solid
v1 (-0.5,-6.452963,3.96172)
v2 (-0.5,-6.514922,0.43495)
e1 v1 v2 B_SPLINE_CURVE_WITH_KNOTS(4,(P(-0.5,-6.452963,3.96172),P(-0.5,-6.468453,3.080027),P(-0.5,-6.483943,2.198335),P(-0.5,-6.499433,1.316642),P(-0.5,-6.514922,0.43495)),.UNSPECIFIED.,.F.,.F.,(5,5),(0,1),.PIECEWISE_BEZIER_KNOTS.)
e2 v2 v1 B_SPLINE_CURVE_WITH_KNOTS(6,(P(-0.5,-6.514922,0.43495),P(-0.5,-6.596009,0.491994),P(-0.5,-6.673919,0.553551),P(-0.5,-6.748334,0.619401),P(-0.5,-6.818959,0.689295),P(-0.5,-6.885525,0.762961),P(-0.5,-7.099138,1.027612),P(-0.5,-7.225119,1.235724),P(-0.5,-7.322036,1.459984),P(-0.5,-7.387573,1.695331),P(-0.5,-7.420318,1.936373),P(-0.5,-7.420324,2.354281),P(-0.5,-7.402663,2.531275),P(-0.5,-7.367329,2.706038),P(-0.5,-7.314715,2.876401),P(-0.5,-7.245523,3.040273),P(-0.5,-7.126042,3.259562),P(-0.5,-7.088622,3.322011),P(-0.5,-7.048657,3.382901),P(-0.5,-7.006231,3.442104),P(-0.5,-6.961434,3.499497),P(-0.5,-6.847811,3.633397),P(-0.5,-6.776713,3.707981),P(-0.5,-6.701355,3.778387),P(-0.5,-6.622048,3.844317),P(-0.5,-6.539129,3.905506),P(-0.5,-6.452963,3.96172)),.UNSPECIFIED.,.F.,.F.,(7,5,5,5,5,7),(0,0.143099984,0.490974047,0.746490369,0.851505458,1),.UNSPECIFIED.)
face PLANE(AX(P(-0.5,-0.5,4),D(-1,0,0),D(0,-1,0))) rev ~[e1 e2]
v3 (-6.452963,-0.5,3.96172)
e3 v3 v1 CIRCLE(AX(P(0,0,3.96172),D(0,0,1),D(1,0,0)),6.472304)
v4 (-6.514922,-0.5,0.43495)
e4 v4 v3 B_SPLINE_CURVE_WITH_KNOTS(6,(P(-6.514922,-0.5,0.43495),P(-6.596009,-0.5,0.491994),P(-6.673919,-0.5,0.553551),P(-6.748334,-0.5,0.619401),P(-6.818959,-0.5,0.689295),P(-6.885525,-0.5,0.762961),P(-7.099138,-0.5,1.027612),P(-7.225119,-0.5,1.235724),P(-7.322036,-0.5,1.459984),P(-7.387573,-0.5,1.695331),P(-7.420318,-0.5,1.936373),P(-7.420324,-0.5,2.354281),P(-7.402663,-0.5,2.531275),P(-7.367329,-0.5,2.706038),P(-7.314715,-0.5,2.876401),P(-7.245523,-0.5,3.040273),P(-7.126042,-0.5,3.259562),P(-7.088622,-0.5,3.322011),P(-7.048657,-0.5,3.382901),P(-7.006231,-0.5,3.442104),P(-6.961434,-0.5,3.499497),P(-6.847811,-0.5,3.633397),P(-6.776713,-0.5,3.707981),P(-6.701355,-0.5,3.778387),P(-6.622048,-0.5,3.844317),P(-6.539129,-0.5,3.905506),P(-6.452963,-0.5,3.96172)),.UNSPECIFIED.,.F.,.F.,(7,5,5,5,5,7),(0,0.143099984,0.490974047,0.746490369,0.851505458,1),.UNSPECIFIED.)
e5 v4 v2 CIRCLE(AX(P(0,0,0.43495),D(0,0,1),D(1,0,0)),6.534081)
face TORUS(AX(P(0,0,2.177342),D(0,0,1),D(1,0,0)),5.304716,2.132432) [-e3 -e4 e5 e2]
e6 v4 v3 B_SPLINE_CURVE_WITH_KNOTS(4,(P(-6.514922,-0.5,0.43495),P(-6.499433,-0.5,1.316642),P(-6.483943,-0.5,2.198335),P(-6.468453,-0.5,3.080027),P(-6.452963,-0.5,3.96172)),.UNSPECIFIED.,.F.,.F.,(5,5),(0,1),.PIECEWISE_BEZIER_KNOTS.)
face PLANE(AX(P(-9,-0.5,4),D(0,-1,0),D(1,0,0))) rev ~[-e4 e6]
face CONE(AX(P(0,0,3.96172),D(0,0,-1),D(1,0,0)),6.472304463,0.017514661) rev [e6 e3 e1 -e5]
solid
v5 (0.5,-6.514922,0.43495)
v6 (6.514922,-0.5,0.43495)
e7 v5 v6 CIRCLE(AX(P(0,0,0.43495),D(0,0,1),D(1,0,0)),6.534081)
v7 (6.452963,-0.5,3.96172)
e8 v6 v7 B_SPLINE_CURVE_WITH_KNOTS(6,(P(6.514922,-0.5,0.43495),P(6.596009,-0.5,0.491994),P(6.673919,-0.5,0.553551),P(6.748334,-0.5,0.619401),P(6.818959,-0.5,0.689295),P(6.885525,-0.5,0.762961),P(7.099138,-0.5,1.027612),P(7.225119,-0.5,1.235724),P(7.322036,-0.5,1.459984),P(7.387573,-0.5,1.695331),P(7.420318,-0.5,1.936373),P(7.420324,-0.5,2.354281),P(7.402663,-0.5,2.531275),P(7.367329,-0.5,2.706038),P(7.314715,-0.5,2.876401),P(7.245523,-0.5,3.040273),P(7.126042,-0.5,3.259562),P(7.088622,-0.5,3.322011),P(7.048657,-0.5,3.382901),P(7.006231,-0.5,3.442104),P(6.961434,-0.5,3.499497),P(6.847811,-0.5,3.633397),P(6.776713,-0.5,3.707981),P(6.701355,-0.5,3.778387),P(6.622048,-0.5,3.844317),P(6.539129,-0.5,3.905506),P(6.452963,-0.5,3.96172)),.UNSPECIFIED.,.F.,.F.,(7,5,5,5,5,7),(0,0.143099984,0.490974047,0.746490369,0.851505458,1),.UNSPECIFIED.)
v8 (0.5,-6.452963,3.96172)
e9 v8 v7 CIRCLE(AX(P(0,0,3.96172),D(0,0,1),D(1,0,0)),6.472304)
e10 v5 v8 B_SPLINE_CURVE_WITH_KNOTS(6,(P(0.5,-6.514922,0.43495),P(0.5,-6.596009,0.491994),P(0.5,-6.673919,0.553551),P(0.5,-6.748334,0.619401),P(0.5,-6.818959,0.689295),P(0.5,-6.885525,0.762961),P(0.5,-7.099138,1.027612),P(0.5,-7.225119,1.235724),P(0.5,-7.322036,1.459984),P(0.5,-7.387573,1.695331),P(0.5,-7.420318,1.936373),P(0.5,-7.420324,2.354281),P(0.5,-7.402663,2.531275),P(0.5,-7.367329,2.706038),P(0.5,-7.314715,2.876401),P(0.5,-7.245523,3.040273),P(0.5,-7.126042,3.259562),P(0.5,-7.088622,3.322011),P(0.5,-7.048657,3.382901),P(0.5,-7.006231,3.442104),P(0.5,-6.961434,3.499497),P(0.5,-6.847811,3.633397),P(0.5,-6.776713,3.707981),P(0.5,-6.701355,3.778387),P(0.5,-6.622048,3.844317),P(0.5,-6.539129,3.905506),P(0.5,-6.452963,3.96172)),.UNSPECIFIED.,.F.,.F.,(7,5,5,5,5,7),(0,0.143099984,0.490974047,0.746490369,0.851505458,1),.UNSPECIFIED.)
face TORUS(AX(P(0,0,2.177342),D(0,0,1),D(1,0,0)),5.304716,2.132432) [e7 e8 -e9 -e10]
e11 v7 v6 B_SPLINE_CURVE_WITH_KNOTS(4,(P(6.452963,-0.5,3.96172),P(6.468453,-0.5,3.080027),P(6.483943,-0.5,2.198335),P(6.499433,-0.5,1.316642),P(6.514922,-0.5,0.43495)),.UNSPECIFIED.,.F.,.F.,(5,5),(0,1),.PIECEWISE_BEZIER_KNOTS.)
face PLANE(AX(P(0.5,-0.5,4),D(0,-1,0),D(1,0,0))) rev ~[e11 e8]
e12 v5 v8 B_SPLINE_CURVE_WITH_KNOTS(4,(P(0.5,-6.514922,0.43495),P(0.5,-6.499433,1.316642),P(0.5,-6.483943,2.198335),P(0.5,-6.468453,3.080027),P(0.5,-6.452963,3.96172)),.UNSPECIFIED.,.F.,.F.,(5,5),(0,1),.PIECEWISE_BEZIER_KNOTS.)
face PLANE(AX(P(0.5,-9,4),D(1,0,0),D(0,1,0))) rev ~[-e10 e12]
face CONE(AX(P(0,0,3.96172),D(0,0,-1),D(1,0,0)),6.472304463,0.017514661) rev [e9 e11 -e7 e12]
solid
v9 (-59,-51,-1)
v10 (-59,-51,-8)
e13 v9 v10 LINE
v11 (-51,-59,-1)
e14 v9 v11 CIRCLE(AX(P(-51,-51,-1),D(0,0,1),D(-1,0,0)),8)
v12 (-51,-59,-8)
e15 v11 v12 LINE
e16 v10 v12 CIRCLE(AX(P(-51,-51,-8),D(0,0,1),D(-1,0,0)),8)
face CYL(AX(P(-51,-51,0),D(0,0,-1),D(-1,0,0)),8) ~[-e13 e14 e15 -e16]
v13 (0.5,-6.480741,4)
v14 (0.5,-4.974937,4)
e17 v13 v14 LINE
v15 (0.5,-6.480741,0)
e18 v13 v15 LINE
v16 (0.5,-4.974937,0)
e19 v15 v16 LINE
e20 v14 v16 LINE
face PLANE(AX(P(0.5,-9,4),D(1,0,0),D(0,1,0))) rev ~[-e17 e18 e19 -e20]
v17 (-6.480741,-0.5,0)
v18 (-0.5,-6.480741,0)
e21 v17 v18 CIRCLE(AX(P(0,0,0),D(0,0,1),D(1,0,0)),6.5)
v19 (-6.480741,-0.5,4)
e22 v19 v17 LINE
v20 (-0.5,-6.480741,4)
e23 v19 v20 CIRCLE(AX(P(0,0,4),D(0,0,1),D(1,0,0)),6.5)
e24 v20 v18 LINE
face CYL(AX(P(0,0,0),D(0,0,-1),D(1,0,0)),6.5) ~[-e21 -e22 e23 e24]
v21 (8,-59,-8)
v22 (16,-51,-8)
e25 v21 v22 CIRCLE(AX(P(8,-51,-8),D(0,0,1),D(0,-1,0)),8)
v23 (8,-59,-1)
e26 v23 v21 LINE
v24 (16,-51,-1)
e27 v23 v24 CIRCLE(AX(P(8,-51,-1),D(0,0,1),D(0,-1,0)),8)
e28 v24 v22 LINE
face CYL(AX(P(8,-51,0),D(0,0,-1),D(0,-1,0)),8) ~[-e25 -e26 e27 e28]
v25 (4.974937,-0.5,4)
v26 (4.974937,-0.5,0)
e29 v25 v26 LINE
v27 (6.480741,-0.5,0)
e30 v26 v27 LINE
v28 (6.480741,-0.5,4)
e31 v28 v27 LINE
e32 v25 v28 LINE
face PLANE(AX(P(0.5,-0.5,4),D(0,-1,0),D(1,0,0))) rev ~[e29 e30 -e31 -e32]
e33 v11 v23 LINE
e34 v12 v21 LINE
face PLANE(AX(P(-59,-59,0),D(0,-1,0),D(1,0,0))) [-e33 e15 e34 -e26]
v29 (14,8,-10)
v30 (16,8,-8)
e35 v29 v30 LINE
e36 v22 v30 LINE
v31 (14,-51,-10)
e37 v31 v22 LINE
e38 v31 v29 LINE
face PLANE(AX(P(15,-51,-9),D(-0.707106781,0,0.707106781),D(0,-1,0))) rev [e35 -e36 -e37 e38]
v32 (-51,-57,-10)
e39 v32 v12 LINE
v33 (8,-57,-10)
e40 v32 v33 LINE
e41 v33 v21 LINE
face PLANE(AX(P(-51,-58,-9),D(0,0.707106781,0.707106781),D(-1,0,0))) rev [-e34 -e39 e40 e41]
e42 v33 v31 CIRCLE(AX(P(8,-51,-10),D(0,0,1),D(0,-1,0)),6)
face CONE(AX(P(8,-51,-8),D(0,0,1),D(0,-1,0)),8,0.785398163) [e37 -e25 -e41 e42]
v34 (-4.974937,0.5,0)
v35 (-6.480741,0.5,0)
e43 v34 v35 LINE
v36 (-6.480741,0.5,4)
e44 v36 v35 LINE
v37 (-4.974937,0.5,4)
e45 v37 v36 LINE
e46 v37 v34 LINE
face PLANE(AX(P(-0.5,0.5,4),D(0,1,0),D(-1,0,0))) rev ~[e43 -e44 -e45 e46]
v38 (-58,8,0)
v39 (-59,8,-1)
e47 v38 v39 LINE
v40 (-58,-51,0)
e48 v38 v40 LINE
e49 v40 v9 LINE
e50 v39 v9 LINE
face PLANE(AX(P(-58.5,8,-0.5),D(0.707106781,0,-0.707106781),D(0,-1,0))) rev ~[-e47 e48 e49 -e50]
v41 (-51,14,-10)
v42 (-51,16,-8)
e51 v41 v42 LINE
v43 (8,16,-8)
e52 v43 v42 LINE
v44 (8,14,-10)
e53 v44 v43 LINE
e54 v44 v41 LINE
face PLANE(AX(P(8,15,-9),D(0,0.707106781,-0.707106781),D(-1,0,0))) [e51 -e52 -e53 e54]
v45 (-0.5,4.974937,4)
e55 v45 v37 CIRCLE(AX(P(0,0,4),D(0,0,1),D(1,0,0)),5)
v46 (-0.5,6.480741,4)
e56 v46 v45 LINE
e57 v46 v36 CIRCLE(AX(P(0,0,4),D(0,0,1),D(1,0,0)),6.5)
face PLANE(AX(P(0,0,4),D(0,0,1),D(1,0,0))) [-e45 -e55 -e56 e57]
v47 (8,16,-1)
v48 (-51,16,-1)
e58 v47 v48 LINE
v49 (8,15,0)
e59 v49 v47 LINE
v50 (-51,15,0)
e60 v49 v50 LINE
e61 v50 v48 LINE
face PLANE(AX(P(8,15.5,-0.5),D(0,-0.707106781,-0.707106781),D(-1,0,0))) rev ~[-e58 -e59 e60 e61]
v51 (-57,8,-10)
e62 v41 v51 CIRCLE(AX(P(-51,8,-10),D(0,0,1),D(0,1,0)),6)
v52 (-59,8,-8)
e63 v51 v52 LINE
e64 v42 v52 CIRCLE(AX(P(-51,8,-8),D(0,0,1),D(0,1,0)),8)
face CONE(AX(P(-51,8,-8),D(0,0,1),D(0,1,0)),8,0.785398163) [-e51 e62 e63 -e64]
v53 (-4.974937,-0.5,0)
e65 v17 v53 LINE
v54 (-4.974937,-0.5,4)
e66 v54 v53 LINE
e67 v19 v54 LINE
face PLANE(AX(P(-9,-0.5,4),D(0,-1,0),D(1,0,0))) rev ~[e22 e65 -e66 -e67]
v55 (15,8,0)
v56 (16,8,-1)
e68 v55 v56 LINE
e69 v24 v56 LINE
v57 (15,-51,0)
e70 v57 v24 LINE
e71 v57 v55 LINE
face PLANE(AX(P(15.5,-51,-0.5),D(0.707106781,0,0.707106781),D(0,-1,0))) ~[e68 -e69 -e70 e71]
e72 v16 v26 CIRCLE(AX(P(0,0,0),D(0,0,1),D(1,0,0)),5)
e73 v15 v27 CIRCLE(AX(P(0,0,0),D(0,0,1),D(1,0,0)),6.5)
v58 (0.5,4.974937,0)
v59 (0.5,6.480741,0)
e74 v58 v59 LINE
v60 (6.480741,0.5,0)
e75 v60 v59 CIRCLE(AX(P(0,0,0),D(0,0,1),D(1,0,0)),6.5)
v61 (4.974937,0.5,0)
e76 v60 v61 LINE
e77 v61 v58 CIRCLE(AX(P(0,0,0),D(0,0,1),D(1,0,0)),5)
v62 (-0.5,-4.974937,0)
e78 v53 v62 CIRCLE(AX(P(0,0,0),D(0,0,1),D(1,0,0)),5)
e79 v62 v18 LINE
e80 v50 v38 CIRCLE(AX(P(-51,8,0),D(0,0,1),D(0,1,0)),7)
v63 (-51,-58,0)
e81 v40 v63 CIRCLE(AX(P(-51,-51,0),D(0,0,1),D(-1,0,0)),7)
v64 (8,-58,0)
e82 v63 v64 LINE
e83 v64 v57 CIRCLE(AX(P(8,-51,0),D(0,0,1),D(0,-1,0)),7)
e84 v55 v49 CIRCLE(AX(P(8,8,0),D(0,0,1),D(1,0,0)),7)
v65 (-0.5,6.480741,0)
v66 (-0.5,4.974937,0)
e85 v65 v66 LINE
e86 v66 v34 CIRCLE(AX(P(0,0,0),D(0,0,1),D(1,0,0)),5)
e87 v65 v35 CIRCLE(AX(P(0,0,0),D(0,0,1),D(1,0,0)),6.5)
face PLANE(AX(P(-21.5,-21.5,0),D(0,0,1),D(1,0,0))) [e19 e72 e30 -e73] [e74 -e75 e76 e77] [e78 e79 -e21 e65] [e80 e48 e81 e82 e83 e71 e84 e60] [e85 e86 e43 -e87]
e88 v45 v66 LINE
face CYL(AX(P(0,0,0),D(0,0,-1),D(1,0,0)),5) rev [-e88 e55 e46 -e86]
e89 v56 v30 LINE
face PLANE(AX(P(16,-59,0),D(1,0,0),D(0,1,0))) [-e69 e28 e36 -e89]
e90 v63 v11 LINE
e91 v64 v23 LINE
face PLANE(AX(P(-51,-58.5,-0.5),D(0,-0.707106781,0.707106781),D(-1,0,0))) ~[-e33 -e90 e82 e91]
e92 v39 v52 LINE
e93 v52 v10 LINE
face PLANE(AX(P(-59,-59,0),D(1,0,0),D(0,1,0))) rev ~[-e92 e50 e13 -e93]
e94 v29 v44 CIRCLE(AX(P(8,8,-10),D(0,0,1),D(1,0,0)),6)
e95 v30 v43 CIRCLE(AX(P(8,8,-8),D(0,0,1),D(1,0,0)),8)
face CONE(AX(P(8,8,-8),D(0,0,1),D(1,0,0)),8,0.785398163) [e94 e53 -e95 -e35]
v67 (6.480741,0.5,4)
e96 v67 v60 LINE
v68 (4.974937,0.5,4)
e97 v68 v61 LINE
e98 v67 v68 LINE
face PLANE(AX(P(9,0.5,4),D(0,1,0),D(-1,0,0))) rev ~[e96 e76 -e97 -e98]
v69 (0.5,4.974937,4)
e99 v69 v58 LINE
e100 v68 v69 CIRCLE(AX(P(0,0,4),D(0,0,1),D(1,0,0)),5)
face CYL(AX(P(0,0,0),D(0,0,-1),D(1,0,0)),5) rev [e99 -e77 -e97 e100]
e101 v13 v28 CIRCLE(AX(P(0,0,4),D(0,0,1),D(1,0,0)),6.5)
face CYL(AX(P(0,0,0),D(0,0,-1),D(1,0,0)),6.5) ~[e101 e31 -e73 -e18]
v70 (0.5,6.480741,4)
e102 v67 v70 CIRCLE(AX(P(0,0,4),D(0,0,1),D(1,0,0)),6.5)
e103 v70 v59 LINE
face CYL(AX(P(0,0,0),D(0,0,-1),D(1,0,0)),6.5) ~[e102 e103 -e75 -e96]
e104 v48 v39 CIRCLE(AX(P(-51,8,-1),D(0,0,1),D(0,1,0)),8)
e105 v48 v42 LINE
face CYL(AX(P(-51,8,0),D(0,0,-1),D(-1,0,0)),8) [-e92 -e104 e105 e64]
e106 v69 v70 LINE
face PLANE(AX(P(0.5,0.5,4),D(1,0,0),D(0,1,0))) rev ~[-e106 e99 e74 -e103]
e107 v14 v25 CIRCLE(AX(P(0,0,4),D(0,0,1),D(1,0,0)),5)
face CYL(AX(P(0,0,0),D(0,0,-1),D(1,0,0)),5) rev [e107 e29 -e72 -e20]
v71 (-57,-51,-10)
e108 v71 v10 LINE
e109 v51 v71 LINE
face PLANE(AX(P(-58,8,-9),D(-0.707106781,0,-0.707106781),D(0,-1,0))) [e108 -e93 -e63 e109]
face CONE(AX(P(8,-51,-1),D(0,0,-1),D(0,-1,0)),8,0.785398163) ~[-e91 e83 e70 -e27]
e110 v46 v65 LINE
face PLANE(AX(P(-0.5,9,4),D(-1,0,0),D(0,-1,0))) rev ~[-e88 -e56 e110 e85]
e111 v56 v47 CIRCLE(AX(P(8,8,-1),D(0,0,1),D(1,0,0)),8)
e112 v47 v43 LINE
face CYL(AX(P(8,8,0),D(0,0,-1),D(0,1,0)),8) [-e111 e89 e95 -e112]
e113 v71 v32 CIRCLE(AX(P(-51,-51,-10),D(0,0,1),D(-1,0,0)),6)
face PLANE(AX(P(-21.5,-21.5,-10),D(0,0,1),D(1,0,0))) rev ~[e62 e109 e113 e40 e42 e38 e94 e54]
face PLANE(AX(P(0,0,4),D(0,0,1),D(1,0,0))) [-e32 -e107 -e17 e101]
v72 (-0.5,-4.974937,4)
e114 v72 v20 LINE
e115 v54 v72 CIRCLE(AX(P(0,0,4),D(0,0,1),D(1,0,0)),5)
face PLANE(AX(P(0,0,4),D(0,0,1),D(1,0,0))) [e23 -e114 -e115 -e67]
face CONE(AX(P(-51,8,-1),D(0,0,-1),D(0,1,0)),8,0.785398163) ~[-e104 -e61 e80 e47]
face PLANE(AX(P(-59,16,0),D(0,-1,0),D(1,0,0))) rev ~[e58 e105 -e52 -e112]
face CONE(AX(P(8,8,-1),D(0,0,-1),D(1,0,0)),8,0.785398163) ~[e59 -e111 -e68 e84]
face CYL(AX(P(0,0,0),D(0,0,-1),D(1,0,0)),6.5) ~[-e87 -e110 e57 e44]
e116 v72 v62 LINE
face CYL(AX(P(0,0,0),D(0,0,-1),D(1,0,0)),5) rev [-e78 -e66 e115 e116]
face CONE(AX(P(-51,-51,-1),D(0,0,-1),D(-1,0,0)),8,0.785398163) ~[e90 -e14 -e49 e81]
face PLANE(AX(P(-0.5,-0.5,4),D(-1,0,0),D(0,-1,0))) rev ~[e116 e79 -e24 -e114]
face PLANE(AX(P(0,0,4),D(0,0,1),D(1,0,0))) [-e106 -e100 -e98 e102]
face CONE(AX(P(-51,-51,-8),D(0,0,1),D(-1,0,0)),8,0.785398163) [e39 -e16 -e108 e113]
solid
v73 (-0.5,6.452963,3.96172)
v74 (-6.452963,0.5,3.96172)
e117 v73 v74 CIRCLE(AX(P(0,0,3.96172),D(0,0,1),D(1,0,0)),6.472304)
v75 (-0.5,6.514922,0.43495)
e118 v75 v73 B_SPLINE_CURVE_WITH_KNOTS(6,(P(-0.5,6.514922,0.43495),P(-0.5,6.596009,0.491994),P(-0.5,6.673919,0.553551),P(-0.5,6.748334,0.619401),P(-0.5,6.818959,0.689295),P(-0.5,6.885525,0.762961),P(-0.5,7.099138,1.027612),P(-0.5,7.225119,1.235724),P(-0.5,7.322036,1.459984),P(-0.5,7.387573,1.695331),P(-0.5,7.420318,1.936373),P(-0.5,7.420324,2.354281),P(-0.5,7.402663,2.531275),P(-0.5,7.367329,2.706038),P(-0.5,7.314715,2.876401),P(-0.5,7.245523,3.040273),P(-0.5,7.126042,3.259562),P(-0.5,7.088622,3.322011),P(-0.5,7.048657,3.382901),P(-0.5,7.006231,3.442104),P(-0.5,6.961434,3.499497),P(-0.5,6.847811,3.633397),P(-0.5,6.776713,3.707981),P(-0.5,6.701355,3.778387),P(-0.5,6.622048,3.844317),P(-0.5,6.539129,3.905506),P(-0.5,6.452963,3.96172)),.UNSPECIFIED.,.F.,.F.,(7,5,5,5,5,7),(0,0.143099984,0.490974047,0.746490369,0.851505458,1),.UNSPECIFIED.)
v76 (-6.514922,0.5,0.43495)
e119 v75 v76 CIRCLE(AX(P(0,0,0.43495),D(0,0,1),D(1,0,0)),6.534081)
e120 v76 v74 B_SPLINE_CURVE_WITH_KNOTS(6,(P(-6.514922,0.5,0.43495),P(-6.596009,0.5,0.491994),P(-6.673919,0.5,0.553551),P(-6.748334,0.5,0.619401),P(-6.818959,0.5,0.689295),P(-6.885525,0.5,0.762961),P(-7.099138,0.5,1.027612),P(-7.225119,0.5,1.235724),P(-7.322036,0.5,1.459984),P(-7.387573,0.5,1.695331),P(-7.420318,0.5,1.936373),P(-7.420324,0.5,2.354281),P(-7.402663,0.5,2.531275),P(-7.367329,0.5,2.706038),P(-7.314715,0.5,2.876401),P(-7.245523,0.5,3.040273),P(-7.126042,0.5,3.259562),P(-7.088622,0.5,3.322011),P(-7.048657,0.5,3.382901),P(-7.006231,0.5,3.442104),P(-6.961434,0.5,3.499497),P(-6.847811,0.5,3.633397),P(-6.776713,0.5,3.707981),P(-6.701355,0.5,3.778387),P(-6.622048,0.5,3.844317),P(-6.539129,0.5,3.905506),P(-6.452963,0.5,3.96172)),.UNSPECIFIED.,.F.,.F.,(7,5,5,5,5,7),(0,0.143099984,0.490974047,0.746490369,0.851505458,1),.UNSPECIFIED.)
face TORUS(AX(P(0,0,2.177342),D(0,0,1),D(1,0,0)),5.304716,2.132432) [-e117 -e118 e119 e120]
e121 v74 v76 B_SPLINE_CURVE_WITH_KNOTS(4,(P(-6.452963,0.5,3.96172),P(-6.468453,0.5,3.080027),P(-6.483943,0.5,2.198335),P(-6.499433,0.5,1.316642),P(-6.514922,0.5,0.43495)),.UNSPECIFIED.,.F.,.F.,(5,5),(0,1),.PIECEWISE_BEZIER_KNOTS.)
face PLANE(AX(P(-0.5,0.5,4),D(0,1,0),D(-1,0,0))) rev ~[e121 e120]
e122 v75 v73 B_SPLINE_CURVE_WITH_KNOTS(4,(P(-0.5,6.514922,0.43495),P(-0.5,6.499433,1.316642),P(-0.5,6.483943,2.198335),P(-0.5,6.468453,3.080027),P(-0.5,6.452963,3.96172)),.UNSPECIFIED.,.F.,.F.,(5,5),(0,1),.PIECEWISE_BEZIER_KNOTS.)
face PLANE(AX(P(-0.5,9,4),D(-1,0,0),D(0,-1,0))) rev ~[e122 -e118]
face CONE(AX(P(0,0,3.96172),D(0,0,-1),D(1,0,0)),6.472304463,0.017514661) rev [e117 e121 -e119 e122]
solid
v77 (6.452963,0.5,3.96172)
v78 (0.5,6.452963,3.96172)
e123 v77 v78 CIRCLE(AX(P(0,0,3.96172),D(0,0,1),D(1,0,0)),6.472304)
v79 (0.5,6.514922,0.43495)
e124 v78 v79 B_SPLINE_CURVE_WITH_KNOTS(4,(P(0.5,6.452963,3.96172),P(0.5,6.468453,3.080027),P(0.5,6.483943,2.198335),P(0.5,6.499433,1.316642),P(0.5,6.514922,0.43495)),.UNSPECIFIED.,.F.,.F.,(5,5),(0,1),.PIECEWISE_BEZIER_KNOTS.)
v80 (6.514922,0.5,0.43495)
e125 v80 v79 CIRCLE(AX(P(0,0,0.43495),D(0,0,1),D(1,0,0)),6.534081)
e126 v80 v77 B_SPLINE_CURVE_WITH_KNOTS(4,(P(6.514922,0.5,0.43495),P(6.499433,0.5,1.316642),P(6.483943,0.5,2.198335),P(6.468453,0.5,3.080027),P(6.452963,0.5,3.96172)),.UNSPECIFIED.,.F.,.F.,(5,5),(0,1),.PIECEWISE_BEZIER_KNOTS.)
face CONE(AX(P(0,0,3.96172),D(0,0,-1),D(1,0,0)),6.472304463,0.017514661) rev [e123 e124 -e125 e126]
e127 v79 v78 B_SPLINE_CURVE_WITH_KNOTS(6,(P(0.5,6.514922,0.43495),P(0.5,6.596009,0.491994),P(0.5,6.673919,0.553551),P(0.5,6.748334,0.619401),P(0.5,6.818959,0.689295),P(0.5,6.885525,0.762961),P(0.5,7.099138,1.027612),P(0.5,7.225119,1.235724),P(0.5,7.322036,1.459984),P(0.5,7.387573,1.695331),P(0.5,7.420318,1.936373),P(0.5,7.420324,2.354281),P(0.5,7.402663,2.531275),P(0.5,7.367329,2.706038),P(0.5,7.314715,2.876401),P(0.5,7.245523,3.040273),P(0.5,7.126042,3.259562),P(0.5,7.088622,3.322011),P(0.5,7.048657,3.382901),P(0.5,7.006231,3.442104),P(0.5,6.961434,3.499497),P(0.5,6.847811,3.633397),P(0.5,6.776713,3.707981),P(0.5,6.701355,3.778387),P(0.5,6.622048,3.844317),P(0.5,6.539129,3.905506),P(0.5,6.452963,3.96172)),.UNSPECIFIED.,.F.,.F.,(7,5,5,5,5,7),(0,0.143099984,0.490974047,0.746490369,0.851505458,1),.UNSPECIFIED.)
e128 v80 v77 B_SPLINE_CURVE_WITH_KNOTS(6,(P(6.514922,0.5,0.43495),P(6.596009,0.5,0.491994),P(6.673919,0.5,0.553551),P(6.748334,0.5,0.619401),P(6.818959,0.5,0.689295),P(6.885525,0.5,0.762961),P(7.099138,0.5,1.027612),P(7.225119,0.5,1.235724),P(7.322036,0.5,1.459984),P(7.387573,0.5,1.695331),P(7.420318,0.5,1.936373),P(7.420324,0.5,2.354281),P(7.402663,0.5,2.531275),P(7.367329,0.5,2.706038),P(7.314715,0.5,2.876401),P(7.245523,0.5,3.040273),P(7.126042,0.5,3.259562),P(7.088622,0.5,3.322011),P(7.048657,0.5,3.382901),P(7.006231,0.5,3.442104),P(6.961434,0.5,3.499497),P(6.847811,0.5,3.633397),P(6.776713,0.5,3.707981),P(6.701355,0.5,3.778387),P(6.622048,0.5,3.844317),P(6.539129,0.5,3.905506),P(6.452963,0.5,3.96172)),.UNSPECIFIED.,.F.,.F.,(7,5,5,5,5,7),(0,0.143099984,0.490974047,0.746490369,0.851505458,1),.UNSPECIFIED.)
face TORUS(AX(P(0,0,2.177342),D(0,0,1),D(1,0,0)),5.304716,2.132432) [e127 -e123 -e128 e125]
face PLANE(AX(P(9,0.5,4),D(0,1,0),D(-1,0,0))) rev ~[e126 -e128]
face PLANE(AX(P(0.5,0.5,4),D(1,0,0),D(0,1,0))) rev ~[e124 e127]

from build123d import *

# Parameters (mm, degrees)
F0_R     = 6.5
F0_R_2   = 5
F1_DEPTH = 4
F0_W     = 75
F0_H     = 75
F2_DEPTH = 10
F3_R     = 8
F4_SIZE  = 2
F5_SIZE  = 1
F9_DEPTH = 4


with BuildPart() as f1:
    # F0 (on Top) → F1 (new body)
    with BuildSketch(Plane.XY):
        Circle(F0_R)
        Circle(F0_R_2, mode=Mode.SUBTRACT)
    extrude(amount=F1_DEPTH)

    # F0 (on Top) → F2 (join)
    with BuildSketch(Plane.XY):
        with Locations((-21.5, -21.5)):
            Rectangle(F0_W, F0_H)
        Circle(F0_R, mode=Mode.SUBTRACT)
        Circle(F0_R)
        Circle(F0_R_2, mode=Mode.SUBTRACT)
        Circle(F0_R_2)
    extrude(amount=-F2_DEPTH)

    # F3
    f3_edges = [f1.edges().sort_by_distance(p)[0] for p in [
        (-59, -59, -5),
        (16, -59, -5),
        (16, 16, -5),
        (-59, 16, -5),
    ]]
    fillet(f3_edges, radius=F3_R)

    # F4
    f4_edges = [f1.edges().sort_by_distance(p)[0] for p in [
        (-21.5, -59, -10),
    ]]
    chamfer(f4_edges, length=F4_SIZE)

    # F5
    f5_edges = [f1.edges().sort_by_distance(p)[0] for p in [
        (16, -21.5, 0),
    ]]
    chamfer(f5_edges, length=F5_SIZE)


with BuildPart() as f7:
    # F6 (on Front) → F7 (revolve)
    with BuildSketch(Plane.XZ):
        with BuildLine():
            Line((6.4723044634, 3.9617195725), (6.5340809524, 0.4349499941))
            ThreePointArc((6.5340809524, 0.4349499941), (7.4368212986, 2.2146886434), (6.4723044634, 3.9617195725))
        make_face()
    revolve(axis=Axis((0, 0, 8.3796254617), (0, 0, 1)))


with BuildPart() as f9_tool:
    # F8 (on face) → F9 (new body)
    with BuildSketch(Plane.XY.offset(4)):
        with BuildLine():
            Line((-6.4807406984, 0.5), (-9, 0.5))
            Line((-9, 0.5), (-9, -0.5))
            Line((-9, -0.5), (-6.4807406984, -0.5))
            ThreePointArc((-6.4807406984, -0.5), (-6.5, 0), (-6.4807406984, 0.5))
        make_face()
        with BuildLine():
            Line((-4.9749371855, 0.5), (-6.4807406984, 0.5))
            ThreePointArc((-6.4807406984, 0.5), (-6.5, 0), (-6.4807406984, -0.5))
            Line((-6.4807406984, -0.5), (-4.9749371855, -0.5))
            ThreePointArc((-4.9749371855, -0.5), (-5, 0), (-4.9749371855, 0.5))
        make_face()
        with BuildLine():
            Line((-0.5, 0.5), (-4.9749371855, 0.5))
            ThreePointArc((-4.9749371855, 0.5), (-5, 0), (-4.9749371855, -0.5))
            Line((-4.9749371855, -0.5), (-0.5, -0.5))
            Line((-0.5, -0.5), (-0.5, 0.5))
        make_face()
        with BuildLine():
            Line((4.9749371855, 0.5), (0.5, 0.5))
            Line((0.5, 0.5), (0.5, -0.5))
            Line((0.5, -0.5), (4.9749371855, -0.5))
            ThreePointArc((4.9749371855, -0.5), (4.9937303656, -0.2503138753), (5, 0))
            ThreePointArc((5, 0), (4.9937303656, 0.2503138753), (4.9749371855, 0.5))
        make_face()
        with BuildLine():
            ThreePointArc((6.5, 0), (6.49518339, 0.2501853916), (6.4807406984, 0.5))
            Line((6.4807406984, 0.5), (4.9749371855, 0.5))
            ThreePointArc((4.9749371855, 0.5), (4.9937303656, 0.2503138753), (5, 0))
            ThreePointArc((5, 0), (4.9937303656, -0.2503138753), (4.9749371855, -0.5))
            Line((4.9749371855, -0.5), (6.4807406984, -0.5))
            ThreePointArc((6.4807406984, -0.5), (6.49518339, -0.2501853916), (6.5, 0))
        make_face()
        with BuildLine():
            Line((9, 0.5), (6.4807406984, 0.5))
            ThreePointArc((6.4807406984, 0.5), (6.49518339, 0.2501853916), (6.5, 0))
            ThreePointArc((6.5, 0), (6.49518339, -0.2501853916), (6.4807406984, -0.5))
            Line((6.4807406984, -0.5), (9, -0.5))
            Line((9, -0.5), (9, 0.5))
        make_face()
        with BuildLine():
            Line((-0.5, 4.9749371855), (-0.5, 0.5))
            Line((-0.5, 0.5), (0.5, 0.5))
            Line((0.5, 0.5), (0.5, 4.9749371855))
            ThreePointArc((0.5, 4.9749371855), (0, 5), (-0.5, 4.9749371855))
        make_face()
        with BuildLine():
            ThreePointArc((0.5, 6.4807406984), (0, 6.5), (-0.5, 6.4807406984))
            Line((-0.5, 6.4807406984), (-0.5, 4.9749371855))
            ThreePointArc((-0.5, 4.9749371855), (0, 5), (0.5, 4.9749371855))
            Line((0.5, 4.9749371855), (0.5, 6.4807406984))
        make_face()
        with BuildLine():
            Line((-0.5, 9), (-0.5, 6.4807406984))
            ThreePointArc((-0.5, 6.4807406984), (0, 6.5), (0.5, 6.4807406984))
            Line((0.5, 6.4807406984), (0.5, 9))
            Line((0.5, 9), (-0.5, 9))
        make_face()
        with BuildLine():
            Line((0.5, -0.5), (-0.5, -0.5))
            Line((-0.5, -0.5), (-0.5, -4.9749371855))
            ThreePointArc((-0.5, -4.9749371855), (0, -5), (0.5, -4.9749371855))
            Line((0.5, -4.9749371855), (0.5, -0.5))
        make_face()
        with BuildLine():
            Line((-0.5, -4.9749371855), (-0.5, -6.4807406984))
            ThreePointArc((-0.5, -6.4807406984), (0, -6.5), (0.5, -6.4807406984))
            Line((0.5, -6.4807406984), (0.5, -4.9749371855))
            ThreePointArc((0.5, -4.9749371855), (0, -5), (-0.5, -4.9749371855))
        make_face()
        with BuildLine():
            ThreePointArc((0.5, -6.4807406984), (0, -6.5), (-0.5, -6.4807406984))
            Line((-0.5, -6.4807406984), (-0.5, -9))
            Line((-0.5, -9), (0.5, -9))
            Line((0.5, -9), (0.5, -6.4807406984))
        make_face()
    extrude(amount=-F9_DEPTH)


with BuildPart() as f1_1:
    add(f1.part)

    # F9: cut by f9_tool
    add(f9_tool.part, mode=Mode.SUBTRACT)


with BuildPart() as f7_1:
    add(f7.part)

    # F9: cut by f9_tool
    add(f9_tool.part, mode=Mode.SUBTRACT)


solid = Compound([f1_1.part, f7_1.part])
